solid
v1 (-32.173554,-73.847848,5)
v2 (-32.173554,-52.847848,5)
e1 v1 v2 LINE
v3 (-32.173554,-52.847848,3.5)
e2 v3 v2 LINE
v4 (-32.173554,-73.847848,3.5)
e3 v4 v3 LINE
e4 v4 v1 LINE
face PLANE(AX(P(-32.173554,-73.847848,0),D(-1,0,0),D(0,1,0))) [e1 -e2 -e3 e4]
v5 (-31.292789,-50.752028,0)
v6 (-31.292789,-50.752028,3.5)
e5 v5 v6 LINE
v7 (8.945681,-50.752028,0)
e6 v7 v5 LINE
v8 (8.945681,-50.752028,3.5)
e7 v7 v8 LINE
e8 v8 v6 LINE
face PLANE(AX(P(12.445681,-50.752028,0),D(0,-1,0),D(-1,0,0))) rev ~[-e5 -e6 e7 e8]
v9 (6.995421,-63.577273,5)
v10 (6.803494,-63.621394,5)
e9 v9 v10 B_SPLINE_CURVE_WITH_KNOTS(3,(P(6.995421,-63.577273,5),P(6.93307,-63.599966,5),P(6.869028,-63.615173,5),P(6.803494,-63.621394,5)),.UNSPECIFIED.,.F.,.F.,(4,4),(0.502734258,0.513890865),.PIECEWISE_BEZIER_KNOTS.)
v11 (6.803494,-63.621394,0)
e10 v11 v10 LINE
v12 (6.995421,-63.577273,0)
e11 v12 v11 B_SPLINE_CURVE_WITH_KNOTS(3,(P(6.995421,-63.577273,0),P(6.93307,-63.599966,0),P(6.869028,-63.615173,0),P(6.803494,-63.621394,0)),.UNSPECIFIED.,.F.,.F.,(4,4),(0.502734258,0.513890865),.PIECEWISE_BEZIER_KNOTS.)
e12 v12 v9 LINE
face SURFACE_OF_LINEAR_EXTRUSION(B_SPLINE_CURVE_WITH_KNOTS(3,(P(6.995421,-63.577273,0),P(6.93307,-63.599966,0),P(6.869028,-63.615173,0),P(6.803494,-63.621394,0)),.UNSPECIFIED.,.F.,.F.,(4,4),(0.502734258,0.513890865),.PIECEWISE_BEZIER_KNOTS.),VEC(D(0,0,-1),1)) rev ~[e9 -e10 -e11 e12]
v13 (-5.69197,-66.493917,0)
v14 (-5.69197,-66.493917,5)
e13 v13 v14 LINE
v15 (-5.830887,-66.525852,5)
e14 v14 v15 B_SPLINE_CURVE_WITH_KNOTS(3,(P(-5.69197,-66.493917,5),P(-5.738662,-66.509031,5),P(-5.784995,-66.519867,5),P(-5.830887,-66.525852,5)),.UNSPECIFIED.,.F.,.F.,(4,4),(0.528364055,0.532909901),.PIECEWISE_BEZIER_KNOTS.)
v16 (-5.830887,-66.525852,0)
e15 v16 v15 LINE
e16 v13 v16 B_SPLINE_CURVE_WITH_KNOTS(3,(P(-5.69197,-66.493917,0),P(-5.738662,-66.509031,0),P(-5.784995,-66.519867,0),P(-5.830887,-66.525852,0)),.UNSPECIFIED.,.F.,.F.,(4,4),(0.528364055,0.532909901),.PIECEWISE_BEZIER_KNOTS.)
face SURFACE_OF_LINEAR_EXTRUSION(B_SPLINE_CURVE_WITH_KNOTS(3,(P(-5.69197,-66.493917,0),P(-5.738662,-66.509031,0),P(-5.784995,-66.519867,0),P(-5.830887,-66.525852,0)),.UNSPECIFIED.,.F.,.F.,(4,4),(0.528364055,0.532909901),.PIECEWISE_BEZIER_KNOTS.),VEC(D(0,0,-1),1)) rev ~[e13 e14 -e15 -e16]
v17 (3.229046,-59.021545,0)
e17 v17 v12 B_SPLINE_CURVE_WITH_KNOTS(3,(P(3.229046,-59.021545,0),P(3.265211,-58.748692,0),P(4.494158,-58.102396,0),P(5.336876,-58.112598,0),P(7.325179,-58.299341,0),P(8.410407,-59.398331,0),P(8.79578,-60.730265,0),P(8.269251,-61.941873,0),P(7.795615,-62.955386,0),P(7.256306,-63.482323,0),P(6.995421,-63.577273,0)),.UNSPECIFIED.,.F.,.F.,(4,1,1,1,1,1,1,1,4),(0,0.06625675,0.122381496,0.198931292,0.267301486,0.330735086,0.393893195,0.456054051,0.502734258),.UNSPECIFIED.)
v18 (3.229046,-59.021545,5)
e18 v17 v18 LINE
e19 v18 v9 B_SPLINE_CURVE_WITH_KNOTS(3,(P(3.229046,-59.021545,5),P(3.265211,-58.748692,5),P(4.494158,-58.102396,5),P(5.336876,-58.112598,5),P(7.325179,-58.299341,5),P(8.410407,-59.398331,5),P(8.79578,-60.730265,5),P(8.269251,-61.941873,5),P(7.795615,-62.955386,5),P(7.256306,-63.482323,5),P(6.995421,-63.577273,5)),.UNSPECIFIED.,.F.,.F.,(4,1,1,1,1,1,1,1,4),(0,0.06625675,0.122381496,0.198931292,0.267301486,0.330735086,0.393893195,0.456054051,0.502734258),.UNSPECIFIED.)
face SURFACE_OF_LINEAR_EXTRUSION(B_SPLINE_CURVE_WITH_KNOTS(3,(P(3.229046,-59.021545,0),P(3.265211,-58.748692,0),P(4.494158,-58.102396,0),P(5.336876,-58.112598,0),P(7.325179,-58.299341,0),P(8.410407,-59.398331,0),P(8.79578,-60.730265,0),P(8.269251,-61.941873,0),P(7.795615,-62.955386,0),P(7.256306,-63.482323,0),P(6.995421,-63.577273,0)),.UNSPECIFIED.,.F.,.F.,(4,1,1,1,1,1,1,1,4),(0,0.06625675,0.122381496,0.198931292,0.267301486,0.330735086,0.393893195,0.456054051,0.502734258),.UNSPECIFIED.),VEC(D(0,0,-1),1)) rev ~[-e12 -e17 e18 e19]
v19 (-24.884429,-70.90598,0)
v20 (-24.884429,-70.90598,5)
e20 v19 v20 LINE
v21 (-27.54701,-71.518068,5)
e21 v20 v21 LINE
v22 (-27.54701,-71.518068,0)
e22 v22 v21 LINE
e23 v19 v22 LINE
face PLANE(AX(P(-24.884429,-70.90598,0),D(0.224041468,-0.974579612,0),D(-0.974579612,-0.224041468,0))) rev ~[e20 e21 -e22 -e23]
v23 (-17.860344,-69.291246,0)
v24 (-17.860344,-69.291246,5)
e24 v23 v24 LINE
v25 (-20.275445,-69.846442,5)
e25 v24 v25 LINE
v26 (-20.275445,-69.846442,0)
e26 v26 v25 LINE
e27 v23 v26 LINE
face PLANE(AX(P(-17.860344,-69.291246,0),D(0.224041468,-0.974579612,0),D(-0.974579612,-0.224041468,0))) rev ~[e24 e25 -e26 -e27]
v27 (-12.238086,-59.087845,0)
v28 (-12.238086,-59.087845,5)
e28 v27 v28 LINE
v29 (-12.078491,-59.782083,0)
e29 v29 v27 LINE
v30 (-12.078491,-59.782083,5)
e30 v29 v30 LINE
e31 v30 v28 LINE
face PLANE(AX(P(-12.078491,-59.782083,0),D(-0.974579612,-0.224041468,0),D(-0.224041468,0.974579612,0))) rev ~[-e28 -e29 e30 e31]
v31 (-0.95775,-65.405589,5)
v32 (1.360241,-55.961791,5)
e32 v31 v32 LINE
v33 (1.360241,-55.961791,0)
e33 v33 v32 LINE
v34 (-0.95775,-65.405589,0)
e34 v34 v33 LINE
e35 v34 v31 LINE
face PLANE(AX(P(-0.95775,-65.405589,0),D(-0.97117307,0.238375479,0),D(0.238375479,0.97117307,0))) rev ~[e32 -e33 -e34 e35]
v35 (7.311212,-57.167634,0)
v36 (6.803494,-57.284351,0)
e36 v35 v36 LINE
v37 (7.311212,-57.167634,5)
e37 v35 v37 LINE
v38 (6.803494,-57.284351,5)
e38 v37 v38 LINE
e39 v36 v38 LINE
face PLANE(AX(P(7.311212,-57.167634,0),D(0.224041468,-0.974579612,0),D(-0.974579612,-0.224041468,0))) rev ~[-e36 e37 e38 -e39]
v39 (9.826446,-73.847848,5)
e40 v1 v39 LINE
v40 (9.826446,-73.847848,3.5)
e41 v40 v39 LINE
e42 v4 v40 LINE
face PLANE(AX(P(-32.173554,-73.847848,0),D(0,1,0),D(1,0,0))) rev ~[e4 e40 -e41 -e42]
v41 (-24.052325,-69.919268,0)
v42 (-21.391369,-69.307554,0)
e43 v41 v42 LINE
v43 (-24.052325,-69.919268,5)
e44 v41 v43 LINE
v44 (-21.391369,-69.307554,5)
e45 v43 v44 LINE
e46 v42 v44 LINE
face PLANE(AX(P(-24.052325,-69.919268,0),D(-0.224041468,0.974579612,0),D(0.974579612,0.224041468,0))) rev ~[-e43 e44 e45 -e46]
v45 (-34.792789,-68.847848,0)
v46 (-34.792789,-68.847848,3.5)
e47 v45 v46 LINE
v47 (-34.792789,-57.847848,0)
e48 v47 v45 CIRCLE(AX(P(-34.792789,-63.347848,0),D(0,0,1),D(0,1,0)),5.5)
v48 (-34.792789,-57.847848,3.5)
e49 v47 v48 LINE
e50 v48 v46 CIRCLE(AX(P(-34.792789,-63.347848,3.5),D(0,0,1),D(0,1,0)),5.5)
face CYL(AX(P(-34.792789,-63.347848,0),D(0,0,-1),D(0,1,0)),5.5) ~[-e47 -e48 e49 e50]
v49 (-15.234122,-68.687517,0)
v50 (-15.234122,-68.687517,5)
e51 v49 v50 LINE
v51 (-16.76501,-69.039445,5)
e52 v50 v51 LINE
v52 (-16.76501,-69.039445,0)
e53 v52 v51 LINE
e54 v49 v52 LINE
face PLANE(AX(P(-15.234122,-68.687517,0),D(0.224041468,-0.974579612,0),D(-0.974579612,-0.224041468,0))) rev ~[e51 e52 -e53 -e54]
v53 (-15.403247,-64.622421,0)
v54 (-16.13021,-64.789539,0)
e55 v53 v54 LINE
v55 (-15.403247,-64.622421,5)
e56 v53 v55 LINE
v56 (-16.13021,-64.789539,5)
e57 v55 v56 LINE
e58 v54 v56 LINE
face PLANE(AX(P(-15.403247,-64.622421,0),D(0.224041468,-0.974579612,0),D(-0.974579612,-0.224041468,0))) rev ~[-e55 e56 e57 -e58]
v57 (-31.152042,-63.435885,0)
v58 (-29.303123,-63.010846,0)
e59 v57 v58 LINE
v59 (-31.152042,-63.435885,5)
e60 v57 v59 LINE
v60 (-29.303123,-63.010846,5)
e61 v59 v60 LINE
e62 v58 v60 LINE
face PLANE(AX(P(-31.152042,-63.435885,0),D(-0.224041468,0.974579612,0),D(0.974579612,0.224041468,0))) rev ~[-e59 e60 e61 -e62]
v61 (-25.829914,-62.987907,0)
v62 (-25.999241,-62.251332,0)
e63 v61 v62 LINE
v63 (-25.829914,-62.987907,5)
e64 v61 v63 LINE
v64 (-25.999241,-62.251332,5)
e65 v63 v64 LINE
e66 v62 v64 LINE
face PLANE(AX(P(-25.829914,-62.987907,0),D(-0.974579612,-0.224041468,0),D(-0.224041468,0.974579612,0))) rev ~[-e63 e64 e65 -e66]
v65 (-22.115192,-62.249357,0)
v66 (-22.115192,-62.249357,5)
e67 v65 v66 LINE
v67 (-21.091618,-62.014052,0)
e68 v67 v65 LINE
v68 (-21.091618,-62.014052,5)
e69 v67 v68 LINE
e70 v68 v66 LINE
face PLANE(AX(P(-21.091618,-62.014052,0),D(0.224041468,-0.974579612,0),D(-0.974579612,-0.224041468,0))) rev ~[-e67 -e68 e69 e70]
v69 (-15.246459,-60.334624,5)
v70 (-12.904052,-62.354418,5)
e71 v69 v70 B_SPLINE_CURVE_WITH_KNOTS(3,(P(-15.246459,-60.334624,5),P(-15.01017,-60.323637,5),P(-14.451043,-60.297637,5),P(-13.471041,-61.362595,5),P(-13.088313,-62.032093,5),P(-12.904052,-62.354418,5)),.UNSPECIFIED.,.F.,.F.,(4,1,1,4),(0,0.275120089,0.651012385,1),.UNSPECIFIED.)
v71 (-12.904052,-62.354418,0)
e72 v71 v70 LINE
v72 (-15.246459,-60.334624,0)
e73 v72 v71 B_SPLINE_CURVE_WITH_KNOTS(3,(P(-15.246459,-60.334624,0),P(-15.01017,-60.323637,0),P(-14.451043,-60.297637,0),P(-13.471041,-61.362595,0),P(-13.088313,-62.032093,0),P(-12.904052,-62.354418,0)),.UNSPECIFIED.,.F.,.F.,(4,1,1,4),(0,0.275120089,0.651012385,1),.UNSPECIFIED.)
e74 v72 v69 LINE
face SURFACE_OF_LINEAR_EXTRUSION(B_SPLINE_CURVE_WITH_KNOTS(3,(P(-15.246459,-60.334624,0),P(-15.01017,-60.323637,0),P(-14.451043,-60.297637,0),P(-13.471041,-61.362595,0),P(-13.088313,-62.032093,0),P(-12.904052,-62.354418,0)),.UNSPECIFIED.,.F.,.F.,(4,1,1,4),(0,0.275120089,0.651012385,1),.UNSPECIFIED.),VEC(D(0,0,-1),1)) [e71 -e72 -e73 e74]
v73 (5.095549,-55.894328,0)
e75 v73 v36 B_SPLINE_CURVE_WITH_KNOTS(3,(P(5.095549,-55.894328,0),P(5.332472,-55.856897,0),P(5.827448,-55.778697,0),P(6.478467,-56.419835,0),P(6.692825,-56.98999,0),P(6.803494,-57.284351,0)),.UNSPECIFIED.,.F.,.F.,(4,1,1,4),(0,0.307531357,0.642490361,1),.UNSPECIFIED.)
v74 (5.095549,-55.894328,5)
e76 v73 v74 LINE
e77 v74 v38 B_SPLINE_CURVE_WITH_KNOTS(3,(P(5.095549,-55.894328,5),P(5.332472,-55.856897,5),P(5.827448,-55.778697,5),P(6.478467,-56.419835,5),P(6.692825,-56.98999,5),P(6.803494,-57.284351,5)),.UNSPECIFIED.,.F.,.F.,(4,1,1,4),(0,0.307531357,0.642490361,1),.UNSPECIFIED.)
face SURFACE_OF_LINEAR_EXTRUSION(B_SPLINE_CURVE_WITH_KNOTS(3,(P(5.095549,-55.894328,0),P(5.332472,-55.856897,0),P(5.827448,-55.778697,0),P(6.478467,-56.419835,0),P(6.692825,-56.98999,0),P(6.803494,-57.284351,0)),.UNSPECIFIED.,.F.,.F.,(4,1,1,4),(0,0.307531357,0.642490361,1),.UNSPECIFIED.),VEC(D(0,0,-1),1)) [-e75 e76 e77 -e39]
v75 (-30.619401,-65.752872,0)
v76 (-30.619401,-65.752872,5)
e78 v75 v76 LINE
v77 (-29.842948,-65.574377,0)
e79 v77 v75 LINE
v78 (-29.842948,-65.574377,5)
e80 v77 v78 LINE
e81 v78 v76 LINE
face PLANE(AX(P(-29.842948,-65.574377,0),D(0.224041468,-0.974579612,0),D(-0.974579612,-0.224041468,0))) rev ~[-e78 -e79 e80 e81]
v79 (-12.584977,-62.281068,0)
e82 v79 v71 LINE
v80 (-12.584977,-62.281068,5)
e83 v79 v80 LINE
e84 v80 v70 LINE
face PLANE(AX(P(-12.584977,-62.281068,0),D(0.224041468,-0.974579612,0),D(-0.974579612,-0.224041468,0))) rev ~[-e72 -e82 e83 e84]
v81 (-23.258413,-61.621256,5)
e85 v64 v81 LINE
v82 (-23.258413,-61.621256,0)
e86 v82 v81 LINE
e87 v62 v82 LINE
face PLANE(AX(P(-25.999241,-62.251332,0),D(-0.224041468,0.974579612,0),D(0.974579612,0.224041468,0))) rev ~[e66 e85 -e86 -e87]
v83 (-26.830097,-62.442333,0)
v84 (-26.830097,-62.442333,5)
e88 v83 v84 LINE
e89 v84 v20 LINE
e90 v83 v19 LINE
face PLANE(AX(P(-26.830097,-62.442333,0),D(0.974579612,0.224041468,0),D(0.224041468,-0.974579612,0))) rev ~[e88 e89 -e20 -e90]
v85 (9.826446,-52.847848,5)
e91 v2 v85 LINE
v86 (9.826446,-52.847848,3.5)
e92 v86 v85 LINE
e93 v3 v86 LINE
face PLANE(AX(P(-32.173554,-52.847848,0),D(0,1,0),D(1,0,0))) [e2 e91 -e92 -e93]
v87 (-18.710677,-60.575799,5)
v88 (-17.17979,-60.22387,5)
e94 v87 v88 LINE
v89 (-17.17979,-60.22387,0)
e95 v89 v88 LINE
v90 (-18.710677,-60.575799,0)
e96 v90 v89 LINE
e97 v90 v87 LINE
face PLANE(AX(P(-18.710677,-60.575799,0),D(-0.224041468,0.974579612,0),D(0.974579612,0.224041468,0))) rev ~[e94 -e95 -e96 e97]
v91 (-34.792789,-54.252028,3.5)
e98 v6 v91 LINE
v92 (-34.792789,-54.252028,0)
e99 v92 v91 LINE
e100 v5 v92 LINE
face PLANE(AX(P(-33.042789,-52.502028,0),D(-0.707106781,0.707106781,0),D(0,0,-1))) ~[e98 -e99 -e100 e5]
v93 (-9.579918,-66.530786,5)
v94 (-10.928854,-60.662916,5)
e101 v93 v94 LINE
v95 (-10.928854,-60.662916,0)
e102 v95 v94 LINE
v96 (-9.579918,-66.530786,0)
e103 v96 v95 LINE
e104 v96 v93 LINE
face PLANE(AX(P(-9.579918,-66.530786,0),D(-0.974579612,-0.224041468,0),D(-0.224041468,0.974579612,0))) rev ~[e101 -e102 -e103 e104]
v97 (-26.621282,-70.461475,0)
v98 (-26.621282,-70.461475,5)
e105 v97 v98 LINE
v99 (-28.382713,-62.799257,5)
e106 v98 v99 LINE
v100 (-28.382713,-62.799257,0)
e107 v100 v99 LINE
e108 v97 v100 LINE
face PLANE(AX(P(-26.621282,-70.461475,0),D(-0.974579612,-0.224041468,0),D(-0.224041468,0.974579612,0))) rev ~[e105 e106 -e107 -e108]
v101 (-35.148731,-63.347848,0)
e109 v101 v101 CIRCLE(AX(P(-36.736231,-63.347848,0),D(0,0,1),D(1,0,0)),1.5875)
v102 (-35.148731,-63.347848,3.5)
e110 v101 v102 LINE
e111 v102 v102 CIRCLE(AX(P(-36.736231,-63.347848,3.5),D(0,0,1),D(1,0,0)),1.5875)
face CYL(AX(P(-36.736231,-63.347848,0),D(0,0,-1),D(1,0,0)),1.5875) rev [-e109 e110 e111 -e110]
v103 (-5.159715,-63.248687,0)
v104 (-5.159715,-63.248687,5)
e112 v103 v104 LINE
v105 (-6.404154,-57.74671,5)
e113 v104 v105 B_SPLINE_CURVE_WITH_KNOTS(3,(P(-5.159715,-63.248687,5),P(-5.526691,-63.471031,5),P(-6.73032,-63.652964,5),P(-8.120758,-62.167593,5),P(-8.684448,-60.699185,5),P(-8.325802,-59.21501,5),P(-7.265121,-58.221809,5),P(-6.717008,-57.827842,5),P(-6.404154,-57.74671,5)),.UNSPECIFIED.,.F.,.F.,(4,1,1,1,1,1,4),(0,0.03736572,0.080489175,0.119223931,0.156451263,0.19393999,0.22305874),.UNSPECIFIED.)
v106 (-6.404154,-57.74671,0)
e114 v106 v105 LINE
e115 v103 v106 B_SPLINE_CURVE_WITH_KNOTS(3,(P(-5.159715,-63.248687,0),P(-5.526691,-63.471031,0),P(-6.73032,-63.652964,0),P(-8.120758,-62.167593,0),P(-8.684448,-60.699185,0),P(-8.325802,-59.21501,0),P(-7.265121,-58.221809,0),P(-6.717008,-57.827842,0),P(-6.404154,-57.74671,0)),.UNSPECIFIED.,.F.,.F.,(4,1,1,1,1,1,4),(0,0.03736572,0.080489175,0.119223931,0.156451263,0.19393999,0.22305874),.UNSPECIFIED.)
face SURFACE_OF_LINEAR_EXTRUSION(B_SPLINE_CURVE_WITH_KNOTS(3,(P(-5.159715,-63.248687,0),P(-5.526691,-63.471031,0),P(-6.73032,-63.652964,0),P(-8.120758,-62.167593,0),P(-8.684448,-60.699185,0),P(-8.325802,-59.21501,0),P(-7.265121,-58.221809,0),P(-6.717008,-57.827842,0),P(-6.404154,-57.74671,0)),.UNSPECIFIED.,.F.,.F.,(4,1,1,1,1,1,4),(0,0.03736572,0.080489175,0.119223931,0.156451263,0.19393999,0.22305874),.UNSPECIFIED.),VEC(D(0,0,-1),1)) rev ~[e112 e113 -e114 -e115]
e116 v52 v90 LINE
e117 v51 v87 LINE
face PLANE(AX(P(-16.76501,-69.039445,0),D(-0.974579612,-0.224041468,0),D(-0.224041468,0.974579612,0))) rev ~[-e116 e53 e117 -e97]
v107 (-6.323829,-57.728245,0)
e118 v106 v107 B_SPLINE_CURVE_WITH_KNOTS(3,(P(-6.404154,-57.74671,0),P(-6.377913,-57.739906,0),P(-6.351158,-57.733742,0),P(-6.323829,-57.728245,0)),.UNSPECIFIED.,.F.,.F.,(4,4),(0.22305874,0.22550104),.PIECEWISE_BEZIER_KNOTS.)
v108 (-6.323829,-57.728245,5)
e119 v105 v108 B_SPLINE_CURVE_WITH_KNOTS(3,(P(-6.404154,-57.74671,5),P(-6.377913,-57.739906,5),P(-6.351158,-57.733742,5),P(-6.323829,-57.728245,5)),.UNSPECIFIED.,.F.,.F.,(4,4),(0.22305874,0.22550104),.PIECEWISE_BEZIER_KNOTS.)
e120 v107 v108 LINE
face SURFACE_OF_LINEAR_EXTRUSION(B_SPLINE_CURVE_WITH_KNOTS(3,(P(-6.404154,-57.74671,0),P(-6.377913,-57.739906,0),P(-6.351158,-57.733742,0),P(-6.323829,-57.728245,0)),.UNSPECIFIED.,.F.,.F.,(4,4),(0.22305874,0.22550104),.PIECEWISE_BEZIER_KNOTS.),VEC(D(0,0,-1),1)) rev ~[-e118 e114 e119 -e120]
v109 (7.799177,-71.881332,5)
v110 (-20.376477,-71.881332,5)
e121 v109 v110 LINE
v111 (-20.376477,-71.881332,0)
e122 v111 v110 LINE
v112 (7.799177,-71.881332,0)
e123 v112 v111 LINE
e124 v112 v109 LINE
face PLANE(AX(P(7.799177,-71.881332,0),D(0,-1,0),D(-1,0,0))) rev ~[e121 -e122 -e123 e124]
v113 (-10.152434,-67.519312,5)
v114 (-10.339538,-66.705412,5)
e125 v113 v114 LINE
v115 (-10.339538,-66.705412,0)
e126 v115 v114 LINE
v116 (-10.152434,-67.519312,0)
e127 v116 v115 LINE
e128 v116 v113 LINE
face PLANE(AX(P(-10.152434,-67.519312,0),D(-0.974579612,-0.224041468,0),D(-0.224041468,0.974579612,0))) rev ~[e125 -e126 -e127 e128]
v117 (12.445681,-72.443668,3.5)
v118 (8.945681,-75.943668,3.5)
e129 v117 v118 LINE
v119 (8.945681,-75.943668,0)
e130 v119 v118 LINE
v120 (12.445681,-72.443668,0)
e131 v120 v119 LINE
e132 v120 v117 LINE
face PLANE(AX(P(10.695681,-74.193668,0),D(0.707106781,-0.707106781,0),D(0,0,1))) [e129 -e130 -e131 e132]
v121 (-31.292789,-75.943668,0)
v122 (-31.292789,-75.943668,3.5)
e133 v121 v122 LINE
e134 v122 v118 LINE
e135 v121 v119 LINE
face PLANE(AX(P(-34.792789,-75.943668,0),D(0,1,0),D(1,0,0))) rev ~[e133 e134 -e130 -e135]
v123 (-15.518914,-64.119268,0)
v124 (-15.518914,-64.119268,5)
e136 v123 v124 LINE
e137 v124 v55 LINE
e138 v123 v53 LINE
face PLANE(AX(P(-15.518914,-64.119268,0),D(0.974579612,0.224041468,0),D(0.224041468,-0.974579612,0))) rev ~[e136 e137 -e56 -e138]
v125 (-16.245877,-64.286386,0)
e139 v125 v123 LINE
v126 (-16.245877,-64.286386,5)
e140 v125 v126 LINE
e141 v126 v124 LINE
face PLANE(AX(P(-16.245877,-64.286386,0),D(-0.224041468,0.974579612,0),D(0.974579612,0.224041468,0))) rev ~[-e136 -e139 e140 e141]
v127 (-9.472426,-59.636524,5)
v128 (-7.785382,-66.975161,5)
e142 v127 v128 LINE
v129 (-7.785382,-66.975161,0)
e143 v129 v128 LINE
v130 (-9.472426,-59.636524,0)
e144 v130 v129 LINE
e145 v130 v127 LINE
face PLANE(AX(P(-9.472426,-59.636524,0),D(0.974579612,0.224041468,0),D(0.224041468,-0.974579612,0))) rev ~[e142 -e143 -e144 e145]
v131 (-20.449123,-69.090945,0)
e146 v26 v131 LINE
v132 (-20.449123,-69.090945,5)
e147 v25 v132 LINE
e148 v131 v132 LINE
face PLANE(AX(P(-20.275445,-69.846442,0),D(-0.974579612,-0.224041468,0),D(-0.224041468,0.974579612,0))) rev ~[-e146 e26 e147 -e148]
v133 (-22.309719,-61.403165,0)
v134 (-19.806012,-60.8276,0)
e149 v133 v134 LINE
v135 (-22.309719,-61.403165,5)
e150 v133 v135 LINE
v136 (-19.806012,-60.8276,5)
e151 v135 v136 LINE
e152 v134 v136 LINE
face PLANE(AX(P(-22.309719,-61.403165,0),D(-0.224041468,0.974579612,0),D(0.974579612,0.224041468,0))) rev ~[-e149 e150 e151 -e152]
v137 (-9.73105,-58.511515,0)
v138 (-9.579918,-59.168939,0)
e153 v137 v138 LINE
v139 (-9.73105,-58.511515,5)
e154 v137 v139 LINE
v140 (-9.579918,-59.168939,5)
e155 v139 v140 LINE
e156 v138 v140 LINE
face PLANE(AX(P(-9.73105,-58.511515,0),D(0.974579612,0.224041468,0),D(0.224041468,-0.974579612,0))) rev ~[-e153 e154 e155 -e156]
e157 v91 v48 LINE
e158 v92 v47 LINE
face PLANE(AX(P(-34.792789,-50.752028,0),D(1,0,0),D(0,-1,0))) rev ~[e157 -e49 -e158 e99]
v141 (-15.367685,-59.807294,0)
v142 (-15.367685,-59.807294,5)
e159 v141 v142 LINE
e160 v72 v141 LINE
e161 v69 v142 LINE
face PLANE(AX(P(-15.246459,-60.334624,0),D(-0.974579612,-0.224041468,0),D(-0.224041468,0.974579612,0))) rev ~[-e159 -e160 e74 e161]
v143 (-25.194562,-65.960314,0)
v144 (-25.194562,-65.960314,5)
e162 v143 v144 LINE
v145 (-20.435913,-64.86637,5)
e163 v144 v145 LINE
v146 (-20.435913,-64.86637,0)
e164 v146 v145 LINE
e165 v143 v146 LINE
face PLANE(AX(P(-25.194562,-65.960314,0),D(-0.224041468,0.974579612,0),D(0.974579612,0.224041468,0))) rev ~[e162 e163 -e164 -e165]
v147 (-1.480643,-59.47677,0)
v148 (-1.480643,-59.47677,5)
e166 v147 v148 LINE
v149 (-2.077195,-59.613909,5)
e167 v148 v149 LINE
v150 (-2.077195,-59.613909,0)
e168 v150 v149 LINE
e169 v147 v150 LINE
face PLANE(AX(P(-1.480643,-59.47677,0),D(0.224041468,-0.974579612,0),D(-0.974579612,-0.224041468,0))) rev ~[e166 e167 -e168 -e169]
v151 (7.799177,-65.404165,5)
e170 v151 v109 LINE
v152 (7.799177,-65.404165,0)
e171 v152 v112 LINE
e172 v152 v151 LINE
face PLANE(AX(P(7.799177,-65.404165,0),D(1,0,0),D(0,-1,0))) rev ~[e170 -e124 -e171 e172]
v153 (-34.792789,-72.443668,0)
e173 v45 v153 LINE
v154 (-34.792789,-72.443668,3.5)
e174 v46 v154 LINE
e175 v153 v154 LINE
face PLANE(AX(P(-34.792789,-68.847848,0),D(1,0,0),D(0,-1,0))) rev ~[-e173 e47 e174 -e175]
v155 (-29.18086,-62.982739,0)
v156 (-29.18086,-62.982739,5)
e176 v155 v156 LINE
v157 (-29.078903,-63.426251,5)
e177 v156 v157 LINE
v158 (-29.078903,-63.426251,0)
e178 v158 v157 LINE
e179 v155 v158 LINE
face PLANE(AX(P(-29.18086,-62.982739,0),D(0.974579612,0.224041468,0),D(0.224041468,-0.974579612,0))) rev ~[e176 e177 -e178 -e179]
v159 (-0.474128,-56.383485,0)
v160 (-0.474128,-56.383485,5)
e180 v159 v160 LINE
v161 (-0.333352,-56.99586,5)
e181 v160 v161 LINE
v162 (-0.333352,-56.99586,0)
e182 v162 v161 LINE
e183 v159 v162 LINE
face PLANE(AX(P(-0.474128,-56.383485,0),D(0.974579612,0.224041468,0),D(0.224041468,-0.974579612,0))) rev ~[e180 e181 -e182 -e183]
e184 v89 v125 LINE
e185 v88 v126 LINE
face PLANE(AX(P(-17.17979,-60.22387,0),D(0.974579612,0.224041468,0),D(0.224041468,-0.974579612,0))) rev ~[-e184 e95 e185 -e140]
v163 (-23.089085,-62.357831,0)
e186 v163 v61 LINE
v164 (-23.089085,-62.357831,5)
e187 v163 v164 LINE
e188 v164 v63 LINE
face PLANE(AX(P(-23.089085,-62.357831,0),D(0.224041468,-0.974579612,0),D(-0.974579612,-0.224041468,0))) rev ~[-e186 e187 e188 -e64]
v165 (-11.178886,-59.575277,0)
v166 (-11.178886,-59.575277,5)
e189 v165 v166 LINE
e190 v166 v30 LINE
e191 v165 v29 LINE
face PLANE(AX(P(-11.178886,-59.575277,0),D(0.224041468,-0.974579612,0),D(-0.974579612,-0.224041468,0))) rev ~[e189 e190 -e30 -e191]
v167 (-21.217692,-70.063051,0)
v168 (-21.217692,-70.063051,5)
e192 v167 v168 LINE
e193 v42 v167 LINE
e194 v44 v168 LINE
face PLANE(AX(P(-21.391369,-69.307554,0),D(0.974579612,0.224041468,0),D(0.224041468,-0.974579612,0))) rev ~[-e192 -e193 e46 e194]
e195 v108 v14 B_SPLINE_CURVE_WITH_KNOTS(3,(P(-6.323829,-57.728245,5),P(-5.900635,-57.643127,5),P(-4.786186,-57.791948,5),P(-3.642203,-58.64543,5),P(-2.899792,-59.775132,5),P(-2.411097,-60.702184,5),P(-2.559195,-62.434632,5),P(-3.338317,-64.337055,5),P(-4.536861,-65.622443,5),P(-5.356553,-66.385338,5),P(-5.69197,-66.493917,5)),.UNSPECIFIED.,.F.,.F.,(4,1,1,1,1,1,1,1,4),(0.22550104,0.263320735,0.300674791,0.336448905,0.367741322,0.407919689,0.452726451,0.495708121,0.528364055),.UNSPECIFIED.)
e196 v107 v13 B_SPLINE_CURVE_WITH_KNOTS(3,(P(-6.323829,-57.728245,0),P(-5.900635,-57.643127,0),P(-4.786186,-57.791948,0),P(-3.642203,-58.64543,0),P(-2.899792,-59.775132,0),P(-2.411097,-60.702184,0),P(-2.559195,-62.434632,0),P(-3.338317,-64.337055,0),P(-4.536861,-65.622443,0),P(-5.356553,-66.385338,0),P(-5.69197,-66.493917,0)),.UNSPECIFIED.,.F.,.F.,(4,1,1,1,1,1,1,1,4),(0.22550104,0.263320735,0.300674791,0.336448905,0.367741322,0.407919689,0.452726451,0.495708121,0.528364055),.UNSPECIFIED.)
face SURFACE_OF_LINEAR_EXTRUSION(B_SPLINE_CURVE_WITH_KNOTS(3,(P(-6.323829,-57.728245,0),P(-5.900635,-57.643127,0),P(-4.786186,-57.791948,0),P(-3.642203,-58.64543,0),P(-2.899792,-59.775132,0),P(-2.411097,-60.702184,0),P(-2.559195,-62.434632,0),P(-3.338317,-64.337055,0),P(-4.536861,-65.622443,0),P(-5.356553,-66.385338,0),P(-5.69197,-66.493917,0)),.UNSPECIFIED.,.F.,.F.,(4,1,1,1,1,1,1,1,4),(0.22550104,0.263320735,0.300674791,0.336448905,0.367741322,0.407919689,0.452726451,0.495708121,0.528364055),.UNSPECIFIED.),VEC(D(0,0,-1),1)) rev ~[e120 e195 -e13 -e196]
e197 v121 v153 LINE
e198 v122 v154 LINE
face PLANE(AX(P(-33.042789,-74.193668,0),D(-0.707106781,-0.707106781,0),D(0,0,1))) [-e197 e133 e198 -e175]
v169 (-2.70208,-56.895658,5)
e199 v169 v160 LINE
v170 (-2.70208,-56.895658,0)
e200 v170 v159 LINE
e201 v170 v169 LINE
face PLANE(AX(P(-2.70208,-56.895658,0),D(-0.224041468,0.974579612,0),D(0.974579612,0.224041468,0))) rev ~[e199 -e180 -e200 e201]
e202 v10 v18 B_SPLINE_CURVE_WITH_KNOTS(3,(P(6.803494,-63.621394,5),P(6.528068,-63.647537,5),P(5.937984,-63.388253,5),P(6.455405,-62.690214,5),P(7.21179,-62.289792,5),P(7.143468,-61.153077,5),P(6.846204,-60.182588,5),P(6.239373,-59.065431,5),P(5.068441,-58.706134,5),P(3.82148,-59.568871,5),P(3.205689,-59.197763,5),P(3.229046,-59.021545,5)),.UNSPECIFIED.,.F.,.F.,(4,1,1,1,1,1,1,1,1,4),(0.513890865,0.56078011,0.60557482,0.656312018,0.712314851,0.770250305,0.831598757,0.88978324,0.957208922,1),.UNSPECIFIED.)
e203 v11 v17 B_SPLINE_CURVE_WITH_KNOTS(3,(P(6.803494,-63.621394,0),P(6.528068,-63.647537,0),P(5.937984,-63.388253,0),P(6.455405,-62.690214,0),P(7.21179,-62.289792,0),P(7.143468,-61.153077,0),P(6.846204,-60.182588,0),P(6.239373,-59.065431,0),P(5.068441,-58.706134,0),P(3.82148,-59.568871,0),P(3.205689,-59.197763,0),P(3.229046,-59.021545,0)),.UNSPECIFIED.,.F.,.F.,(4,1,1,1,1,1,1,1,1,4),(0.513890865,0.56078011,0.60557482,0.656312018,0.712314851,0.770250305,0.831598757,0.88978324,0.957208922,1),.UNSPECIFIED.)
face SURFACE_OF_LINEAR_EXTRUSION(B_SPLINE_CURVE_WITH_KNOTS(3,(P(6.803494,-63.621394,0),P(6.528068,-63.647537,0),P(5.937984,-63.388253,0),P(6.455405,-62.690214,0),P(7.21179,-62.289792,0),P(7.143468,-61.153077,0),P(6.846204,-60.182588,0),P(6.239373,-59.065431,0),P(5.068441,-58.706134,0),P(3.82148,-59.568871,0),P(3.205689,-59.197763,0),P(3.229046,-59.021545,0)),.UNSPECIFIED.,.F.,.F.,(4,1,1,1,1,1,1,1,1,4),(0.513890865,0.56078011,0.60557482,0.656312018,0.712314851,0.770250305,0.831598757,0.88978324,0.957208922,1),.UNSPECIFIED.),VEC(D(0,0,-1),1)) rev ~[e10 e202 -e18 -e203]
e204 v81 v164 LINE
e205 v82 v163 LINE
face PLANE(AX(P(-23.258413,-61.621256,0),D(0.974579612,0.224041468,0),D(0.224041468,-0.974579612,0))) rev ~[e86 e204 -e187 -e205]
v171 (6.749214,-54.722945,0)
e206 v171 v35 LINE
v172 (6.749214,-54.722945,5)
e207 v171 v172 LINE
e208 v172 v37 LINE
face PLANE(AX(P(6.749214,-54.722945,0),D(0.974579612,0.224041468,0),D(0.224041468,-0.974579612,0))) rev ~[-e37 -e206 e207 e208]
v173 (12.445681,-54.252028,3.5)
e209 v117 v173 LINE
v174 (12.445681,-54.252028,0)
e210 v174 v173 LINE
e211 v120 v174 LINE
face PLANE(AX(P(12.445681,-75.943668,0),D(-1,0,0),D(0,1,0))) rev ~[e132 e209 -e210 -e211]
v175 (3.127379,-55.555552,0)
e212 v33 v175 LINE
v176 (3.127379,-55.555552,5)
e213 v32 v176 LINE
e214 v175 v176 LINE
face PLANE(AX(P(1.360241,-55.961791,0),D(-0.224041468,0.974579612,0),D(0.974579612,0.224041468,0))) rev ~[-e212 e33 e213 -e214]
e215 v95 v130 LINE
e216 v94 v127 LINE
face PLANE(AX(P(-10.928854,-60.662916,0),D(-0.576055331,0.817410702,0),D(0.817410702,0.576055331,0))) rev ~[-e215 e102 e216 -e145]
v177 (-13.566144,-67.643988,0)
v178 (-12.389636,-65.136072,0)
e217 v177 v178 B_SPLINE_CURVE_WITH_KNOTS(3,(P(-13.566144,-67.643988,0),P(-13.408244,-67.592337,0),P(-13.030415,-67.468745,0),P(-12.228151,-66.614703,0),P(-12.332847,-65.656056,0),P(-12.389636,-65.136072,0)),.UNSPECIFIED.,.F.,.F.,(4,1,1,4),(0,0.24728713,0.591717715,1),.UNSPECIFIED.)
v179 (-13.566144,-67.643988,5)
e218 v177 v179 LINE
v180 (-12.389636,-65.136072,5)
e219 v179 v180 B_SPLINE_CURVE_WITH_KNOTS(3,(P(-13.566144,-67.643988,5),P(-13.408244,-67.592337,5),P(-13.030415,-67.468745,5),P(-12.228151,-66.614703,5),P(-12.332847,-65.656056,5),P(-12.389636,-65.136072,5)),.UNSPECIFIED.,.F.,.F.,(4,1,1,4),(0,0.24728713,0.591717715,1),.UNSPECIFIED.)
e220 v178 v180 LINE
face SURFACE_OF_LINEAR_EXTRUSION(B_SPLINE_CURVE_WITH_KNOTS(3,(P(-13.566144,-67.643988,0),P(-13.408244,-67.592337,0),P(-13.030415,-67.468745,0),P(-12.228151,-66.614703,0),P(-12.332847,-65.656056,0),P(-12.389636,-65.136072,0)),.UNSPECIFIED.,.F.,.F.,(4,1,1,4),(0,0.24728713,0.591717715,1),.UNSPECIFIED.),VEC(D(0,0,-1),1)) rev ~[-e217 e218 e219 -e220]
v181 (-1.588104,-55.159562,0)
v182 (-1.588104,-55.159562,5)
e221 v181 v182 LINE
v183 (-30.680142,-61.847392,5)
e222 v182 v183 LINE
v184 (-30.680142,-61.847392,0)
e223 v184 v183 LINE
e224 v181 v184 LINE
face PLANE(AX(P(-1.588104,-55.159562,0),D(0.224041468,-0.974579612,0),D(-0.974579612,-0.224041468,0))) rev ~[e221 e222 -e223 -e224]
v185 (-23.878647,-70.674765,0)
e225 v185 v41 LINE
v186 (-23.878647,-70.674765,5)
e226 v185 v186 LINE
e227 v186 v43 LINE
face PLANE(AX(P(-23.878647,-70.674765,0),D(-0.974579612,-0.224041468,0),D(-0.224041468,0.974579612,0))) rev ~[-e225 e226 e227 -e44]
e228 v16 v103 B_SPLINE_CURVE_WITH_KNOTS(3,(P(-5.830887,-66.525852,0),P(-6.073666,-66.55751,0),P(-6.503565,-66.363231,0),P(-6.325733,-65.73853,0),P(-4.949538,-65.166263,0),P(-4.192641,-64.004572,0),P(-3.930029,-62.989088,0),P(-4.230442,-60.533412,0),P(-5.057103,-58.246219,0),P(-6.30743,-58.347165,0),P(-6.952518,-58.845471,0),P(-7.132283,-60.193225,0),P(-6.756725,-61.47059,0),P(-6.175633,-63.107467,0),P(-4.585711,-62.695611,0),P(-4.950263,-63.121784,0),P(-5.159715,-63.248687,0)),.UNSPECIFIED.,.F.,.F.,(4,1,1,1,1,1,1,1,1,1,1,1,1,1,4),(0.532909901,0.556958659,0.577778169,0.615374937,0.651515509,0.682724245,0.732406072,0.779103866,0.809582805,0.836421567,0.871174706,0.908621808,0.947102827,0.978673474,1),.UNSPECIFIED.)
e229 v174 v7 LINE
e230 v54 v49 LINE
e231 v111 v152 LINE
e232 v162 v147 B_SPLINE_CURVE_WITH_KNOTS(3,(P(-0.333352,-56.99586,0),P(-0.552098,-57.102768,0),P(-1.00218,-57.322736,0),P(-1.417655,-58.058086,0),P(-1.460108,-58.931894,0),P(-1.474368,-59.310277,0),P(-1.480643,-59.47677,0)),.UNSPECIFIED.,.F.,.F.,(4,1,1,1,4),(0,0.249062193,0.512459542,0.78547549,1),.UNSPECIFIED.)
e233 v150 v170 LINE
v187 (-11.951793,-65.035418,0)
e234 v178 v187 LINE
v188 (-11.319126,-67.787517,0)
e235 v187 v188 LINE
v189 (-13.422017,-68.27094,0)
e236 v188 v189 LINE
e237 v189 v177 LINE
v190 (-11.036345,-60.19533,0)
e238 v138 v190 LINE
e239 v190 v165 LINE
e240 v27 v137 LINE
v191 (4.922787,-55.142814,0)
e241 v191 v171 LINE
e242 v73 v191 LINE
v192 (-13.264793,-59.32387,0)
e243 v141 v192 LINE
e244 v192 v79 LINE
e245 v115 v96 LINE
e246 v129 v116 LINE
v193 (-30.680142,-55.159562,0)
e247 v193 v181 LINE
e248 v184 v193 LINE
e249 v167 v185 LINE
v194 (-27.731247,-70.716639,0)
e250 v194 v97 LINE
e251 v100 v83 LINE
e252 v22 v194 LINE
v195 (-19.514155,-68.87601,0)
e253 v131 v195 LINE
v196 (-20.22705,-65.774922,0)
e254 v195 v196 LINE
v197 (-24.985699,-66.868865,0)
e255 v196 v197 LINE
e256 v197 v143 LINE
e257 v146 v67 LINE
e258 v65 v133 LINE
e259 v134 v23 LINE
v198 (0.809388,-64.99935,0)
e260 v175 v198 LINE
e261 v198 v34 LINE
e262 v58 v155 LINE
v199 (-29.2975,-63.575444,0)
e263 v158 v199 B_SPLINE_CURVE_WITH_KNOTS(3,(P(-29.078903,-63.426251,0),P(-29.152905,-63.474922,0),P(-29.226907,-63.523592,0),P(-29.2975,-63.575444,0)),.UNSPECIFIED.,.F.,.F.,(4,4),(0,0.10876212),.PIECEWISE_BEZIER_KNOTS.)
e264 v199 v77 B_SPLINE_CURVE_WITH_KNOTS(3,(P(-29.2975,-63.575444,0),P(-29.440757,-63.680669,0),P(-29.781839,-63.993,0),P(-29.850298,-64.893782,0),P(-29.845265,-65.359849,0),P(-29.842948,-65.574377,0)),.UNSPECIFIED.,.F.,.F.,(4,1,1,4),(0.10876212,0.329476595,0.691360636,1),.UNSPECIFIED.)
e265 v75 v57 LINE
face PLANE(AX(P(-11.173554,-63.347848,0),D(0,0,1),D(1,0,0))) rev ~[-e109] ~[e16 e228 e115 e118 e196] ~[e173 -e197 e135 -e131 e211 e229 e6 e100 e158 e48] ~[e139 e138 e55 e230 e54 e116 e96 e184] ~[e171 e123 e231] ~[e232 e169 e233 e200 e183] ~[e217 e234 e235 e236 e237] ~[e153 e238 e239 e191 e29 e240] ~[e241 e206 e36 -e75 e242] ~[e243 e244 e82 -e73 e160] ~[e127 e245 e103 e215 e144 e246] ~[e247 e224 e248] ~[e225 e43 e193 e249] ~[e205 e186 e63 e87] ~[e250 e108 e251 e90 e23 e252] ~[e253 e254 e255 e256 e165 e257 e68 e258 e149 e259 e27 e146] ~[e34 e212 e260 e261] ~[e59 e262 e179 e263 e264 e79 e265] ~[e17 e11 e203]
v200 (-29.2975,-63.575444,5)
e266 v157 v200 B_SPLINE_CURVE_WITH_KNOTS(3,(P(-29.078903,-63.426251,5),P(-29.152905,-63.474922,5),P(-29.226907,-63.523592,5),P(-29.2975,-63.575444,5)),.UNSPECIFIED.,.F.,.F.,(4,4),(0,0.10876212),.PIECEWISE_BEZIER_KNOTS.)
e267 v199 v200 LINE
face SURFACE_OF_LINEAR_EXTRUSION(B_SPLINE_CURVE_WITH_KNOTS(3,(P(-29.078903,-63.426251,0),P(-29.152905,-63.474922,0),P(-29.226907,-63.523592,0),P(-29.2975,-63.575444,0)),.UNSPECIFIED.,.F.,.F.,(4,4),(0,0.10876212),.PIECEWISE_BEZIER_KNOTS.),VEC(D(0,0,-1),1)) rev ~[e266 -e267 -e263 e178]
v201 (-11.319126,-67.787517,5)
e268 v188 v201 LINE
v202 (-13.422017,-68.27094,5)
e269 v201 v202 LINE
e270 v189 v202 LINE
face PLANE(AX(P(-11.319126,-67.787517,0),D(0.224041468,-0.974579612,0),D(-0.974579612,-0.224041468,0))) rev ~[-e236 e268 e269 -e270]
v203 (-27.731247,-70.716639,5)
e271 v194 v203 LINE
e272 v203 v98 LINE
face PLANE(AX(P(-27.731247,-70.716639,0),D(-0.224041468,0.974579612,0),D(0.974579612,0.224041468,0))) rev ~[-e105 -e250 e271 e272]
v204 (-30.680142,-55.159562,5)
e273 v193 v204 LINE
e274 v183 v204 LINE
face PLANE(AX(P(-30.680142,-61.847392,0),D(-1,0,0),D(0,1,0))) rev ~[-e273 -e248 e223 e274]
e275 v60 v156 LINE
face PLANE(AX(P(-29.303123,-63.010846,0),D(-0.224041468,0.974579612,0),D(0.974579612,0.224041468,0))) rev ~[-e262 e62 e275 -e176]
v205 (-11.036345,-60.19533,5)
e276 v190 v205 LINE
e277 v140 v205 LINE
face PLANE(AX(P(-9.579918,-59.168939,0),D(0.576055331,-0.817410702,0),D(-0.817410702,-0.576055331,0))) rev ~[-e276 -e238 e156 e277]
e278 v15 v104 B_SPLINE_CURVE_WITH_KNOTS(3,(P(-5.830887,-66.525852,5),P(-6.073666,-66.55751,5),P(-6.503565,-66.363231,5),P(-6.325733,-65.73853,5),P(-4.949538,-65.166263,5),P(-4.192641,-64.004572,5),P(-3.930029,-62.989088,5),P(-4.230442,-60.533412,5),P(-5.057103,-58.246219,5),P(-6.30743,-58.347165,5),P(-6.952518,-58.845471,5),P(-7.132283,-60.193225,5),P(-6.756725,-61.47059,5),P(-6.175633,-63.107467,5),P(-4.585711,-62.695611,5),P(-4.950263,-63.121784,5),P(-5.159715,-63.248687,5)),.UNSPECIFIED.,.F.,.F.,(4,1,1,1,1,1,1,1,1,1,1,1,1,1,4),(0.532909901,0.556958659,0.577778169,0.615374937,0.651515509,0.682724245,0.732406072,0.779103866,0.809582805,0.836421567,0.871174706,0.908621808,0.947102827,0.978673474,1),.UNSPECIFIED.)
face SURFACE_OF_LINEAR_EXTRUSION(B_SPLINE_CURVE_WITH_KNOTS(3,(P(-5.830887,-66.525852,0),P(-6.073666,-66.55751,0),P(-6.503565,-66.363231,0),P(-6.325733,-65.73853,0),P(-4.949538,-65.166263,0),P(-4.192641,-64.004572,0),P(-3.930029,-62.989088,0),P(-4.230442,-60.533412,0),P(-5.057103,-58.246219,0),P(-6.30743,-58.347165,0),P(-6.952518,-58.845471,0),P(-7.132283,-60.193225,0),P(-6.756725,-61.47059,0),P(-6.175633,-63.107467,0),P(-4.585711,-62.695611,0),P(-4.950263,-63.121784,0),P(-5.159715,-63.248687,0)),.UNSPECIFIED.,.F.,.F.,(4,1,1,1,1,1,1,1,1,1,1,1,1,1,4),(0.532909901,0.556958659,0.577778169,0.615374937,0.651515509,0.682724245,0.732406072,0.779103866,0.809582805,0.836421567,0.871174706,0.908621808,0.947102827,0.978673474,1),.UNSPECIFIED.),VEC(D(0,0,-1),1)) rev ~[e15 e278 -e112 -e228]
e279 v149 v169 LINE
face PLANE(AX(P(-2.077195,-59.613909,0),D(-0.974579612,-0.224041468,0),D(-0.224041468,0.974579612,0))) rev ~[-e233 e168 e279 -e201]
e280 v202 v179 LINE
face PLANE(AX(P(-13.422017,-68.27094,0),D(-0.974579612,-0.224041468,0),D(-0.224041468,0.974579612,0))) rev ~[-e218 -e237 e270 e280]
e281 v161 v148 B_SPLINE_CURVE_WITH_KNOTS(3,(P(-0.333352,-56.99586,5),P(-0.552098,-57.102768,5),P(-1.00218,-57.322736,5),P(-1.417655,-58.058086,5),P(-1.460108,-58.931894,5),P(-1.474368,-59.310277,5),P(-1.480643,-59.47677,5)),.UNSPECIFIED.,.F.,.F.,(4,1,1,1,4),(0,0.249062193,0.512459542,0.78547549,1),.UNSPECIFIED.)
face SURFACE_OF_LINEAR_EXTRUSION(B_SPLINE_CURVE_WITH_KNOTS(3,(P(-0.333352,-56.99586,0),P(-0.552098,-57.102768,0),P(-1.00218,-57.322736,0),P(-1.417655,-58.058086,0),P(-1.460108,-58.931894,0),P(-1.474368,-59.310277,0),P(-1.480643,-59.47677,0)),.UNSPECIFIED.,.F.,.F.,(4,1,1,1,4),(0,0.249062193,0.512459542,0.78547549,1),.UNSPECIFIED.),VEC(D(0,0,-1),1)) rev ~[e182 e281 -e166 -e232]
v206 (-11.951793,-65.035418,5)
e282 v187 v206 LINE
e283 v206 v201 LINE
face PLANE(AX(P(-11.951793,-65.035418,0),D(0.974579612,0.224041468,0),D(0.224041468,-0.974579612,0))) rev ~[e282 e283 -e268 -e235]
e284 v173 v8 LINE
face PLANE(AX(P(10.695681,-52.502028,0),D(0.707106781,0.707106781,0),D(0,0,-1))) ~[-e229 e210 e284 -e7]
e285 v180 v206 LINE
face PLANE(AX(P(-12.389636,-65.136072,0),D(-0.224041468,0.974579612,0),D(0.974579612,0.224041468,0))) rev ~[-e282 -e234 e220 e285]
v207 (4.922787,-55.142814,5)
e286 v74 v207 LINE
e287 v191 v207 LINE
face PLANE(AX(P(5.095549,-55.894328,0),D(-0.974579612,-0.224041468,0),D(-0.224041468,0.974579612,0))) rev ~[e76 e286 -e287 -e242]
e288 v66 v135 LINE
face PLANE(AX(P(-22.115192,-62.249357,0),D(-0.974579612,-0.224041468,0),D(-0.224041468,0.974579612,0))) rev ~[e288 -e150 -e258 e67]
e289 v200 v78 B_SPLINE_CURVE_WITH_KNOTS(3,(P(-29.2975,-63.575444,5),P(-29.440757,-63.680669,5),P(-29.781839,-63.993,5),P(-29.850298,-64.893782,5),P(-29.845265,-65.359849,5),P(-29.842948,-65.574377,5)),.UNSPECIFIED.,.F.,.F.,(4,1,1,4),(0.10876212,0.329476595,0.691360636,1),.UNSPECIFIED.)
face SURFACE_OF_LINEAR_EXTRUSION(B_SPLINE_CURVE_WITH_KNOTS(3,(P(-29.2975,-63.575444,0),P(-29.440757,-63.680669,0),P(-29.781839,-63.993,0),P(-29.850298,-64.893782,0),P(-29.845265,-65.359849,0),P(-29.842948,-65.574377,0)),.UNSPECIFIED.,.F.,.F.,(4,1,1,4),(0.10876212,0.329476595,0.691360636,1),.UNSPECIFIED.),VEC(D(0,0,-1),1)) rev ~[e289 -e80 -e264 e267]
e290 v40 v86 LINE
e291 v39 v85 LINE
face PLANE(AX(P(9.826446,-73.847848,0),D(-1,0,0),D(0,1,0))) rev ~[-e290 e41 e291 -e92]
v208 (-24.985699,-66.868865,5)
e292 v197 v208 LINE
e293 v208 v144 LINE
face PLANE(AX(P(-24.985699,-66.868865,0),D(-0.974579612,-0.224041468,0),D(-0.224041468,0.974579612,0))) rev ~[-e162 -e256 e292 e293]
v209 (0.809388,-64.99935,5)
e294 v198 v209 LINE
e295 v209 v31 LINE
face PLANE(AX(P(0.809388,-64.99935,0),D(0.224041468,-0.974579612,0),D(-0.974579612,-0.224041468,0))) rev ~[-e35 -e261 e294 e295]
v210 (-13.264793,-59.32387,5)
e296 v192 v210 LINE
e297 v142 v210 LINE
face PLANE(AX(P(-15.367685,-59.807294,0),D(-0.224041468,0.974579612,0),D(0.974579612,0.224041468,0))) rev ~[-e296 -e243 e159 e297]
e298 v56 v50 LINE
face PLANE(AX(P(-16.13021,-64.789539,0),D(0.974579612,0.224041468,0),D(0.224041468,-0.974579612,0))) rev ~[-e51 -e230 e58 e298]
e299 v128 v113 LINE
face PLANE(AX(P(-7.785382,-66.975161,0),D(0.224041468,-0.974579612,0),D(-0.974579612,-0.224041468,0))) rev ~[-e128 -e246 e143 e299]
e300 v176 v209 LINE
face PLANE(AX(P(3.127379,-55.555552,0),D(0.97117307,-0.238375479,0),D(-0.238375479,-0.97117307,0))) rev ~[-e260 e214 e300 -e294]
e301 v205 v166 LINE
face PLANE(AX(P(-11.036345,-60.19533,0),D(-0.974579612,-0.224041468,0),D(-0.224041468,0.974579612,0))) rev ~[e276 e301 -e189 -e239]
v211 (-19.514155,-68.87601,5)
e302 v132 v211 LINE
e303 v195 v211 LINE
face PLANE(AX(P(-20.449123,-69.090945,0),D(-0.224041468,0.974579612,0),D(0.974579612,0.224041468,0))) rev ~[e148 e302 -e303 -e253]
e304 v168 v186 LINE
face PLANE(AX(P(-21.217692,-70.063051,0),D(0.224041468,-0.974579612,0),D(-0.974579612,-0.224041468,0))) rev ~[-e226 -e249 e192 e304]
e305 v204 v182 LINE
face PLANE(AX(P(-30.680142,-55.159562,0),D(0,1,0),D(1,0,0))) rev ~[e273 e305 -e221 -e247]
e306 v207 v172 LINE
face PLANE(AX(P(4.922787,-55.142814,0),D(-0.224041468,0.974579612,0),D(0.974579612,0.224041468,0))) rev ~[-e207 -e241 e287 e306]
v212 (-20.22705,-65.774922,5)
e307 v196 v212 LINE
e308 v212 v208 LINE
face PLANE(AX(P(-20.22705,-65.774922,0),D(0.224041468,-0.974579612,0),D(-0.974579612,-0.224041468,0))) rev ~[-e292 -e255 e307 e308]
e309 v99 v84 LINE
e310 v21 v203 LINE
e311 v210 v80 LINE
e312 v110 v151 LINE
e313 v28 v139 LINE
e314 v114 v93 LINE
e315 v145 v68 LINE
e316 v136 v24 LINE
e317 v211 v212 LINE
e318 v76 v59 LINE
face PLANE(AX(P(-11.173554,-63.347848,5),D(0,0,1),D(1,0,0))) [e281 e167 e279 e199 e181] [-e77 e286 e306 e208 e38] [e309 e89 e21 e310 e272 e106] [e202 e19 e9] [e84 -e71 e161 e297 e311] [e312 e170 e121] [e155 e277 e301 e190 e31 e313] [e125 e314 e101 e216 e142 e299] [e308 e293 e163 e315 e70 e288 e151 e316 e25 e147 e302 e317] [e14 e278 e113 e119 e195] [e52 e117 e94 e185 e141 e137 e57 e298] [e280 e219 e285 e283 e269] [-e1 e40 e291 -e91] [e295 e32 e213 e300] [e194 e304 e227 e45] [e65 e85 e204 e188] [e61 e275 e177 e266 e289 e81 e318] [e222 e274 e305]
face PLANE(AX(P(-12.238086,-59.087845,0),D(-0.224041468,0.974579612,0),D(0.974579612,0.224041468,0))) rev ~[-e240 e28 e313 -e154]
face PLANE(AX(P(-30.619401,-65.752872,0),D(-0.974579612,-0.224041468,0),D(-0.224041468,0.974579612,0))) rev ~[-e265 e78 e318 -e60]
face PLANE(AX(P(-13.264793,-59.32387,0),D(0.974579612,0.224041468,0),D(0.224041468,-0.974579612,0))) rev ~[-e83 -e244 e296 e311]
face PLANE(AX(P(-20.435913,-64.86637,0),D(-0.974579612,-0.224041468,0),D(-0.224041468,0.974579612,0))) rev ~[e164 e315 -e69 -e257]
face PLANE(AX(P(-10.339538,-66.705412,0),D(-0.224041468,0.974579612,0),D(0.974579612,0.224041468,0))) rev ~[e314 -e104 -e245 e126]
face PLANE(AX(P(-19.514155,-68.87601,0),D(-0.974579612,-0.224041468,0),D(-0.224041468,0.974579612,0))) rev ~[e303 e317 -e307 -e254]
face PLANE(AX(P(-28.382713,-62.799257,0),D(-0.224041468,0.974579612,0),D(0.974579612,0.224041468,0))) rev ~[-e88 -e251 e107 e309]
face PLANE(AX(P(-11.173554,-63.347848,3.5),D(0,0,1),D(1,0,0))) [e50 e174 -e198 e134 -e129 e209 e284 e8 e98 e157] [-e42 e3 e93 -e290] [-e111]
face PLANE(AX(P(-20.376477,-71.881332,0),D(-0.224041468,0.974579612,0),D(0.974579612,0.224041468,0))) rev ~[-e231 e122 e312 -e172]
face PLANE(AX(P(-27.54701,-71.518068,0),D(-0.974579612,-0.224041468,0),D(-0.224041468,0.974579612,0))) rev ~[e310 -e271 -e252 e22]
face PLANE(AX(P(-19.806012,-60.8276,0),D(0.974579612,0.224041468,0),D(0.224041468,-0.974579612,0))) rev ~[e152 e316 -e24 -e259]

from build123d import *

# Parameters (mm, degrees)
F0_W     = 42
F0_H     = 21.0000003841
F0_R     = 1.5875
F1_DEPTH = 3.5
F2_DEPTH = 5
F3_SIZE  = 3.5


with BuildPart() as f1:
    # F0 (on Top) → F1 (new body)
    with BuildSketch(Plane.XY):
        Polygon((12.4456806419, -75.9436683108), (12.4456806419, -50.7520279537), (-34.7927891028, -50.7520279537), (-34.7927891028, -57.8478481323), (-34.7927891028, -68.8478481323), (-34.7927891028, -75.9436683108), align=None)
        with Locations((-11.1735542305, -63.3478481323)):
            Rectangle(F0_W, F0_H, mode=Mode.SUBTRACT)
        with BuildLine():
            Line((-34.7927891028, -68.8478481323), (-34.7927891028, -57.8478481323))
            ThreePointArc((-34.7927891028, -57.8478481323), (-40.2927891028, -63.3478481323), (-34.7927891028, -68.8478481323))
        make_face()
        with Locations((-36.7362312973, -63.3478481323)):
            Circle(F0_R, mode=Mode.SUBTRACT)
    extrude(amount=F1_DEPTH)

    # F0 (on Top) → F2 (join)
    with BuildSketch(Plane.XY):
        with Locations((-11.1735542305, -63.3478481323)):
            Rectangle(F0_W, F0_H)
        Polygon((-23.8786471596, -70.6747652911), (-24.0523247694, -69.9192682884), (-21.3913693228, -69.3075539071), (-21.2176917131, -70.0630509098), align=None, mode=Mode.SUBTRACT)
        with BuildLine():
            Line((-29.3031234232, -63.0108455718), (-29.1808595508, -62.9827389122))
            Line((-29.1808595508, -62.9827389122), (-29.0789026677, -63.4262510018))
            add(Edge.make_bspline(
                [(-29.0789026677, -63.4262510018), (-29.1529049011, -63.4749217309), (-29.2269071345, -63.52359246), (-29.2975002121, -63.575444281)],
                knots=[0, 0, 0, 0, 0.1087621201, 0.1087621201, 0.1087621201, 0.1087621201], degree=3))
            add(Edge.make_bspline(
                [(-29.2975002121, -63.575444281), (-29.4407570194, -63.6806688523), (-29.7818392383, -63.9929995997), (-29.8502979242, -64.8937824329), (-29.8452648282, -65.359848626), (-29.8429481134, -65.5743771161)],
                knots=[0.1087621201, 0.1087621201, 0.1087621201, 0.1087621201, 0.3294765954, 0.6913606358, 1, 1, 1, 1], degree=3))
            Line((-29.8429481134, -65.5743771161), (-30.6194010064, -65.7528721757))
            Line((-30.6194010064, -65.7528721757), (-31.152042225, -63.4358847142))
            Line((-31.152042225, -63.4358847142), (-29.3031234232, -63.0108455718))
        make_face(mode=Mode.SUBTRACT)
        Polygon((-26.6212822649, -70.461475033), (-28.3827131346, -62.7992568318), (-26.8300967187, -62.4423332344), (-24.8844293061, -70.9059797612), (-27.5470101393, -71.5180677949), (-27.7312466822, -70.7166394694), align=None, mode=Mode.SUBTRACT)
        Polygon((-22.1151918466, -62.2493569006), (-22.3097188553, -61.4031650847), (-19.8060117193, -60.827599769), (-17.8603443067, -69.2912462957), (-20.2754453234, -69.8464423724), (-20.4491229331, -69.0909453697), (-19.5141554776, -68.8760101519), (-20.2270498603, -65.7749220486), (-24.9856994855, -66.8688653595), (-25.1945621474, -65.9603135014), (-20.4359125222, -64.8663701905), (-21.0916182718, -62.0140524438), align=None, mode=Mode.SUBTRACT)
        Polygon((-16.7650099683, -69.0394450985), (-18.7106773809, -60.5757985718), (-17.1797895752, -60.2238700612), (-16.2458771635, -64.2863858277), (-15.5189143766, -64.119267813), (-15.4032469918, -64.6224205375), (-16.1302097787, -64.7895385522), (-15.2341221626, -68.687516588), align=None, mode=Mode.SUBTRACT)
        with BuildLine():
            Line((-13.4220172148, -68.2709404072), (-13.566144424, -67.6439875448))
            add(Edge.make_bspline(
                [(-13.566144424, -67.6439875448), (-13.4082443855, -67.5923367128), (-13.0304153818, -67.4687447074), (-12.2281508661, -66.6147026372), (-12.3328471311, -65.6560556519), (-12.3896358907, -65.1360717416)],
                knots=[0, 0, 0, 0, 0.24728713, 0.5917177152, 1, 1, 1, 1], degree=3))
            Line((-12.3896358907, -65.1360717416), (-11.9517928264, -65.0354180837))
            Line((-11.9517928264, -65.0354180837), (-11.3191259647, -67.7875167476))
            Line((-11.3191259647, -67.7875167476), (-13.4220172148, -68.2709404072))
        make_face(mode=Mode.SUBTRACT)
        Polygon((7.7991766311, -71.8813315034), (-20.3764773905, -71.8813315034), (7.7991766311, -65.404164518), align=None, mode=Mode.SUBTRACT)
        Polygon((-9.579917565, -66.5307860809), (-10.9288543825, -60.6629155825), (-9.4724264598, -59.6365244838), (-7.7853821944, -66.9751612131), (-10.1524341928, -67.5193115297), (-10.3395377834, -66.705411557), align=None, mode=Mode.SUBTRACT)
        Polygon((-25.8299135415, -62.9879073799), (-25.9992413825, -62.2513318561), (-23.2584126937, -61.6212557954), (-23.0890848527, -62.3578313192), align=None, mode=Mode.SUBTRACT)
        with BuildLine():
            Line((-15.3676846274, -59.8072938805), (-13.2647933773, -59.3238702209))
            Line((-13.2647933773, -59.3238702209), (-12.5849773482, -62.2810676002))
            Line((-12.5849773482, -62.2810676002), (-12.904051505, -62.3544180393))
            add(Edge.make_bspline(
                [(-15.2464591208, -60.3346244154), (-15.0101701985, -60.3236367336), (-14.4510433987, -60.2976367532), (-13.4710405423, -61.3625947324), (-13.0883127356, -62.0320933187), (-12.904051505, -62.3544180393)],
                knots=[0, 0, 0, 0, 0.2751200889, 0.6510123851, 1, 1, 1, 1], degree=3))
            Line((-15.2464591208, -60.3346244154), (-15.3676846274, -59.8072938805))
        make_face(mode=Mode.SUBTRACT)
        Polygon((-1.5881039416, -55.1595622412), (-30.680142343, -61.8473924696), (-30.680142343, -55.1595622412), align=None, mode=Mode.SUBTRACT)
        with BuildLine():
            add(Edge.make_bspline(
                [(-5.830886671, -66.5258515407), (-6.0736663814, -66.5575096275), (-6.5035654037, -66.3632312442), (-6.3257334719, -65.7385304616), (-4.9495379297, -65.1662633845), (-4.192641078, -64.0045721001), (-3.9300292571, -62.9890881807), (-4.2304422475, -60.5334124707), (-5.0571027333, -58.2462191907), (-6.307430195, -58.3471648479), (-6.9525176427, -58.8454709415), (-7.1322829636, -60.1932249465), (-6.7567254739, -61.4705901458), (-6.175632936, -63.107467012), (-4.5857114877, -62.6956114954), (-4.950262939, -63.1217841178), (-5.159715116, -63.2486870885)],
                knots=[0.5329099011, 0.5329099011, 0.5329099011, 0.5329099011, 0.556958659, 0.577778169, 0.615374937, 0.651515509, 0.6827242452, 0.7324060718, 0.7791038665, 0.8095828049, 0.8364215675, 0.8711747056, 0.9086218082, 0.9471028269, 0.9786734736, 1, 1, 1, 1], degree=3))
            add(Edge.make_bspline(
                [(-5.159715116, -63.2486870885), (-5.526691497, -63.4710308882), (-6.7303203701, -63.6529638599), (-8.1207575277, -62.1675926968), (-8.684448327, -60.6991851811), (-8.3258020191, -59.2150100073), (-7.2651210642, -58.2218085369), (-6.717008012, -57.8278416783), (-6.4041536497, -57.7467104109)],
                knots=[0, 0, 0, 0, 0.0373657204, 0.0804891749, 0.1192239311, 0.1564512634, 0.1939399901, 0.2230587403, 0.2230587403, 0.2230587403, 0.2230587403], degree=3))
            add(Edge.make_bspline(
                [(-6.4041536497, -57.7467104109), (-6.3779133736, -57.7399056254), (-6.3511578955, -57.7337417038), (-6.3238290857, -57.7282449793)],
                knots=[0.2230587403, 0.2230587403, 0.2230587403, 0.2230587403, 0.2255010398, 0.2255010398, 0.2255010398, 0.2255010398], degree=3))
            add(Edge.make_bspline(
                [(-6.3238290857, -57.7282449793), (-5.9006347692, -57.6431266514), (-4.7861863093, -57.7919477631), (-3.6422025528, -58.6454302727), (-2.8997918168, -59.7751315334), (-2.4110970663, -60.7021838077), (-2.5591947017, -62.4346323182), (-3.3383172922, -64.3370552032), (-4.536860668, -65.6224426324), (-5.3565533892, -66.3853381486), (-5.6919701344, -66.4939166794)],
                knots=[0.2255010398, 0.2255010398, 0.2255010398, 0.2255010398, 0.2633207349, 0.3006747911, 0.3364489049, 0.3677413222, 0.4079196888, 0.4527264513, 0.495708121, 0.5283640554, 0.5283640554, 0.5283640554, 0.5283640554], degree=3))
            add(Edge.make_bspline(
                [(-5.6919701344, -66.4939166794), (-5.7386615797, -66.5090312752), (-5.7849949407, -66.5198673324), (-5.830886671, -66.5258515407)],
                knots=[0.5283640554, 0.5283640554, 0.5283640554, 0.5283640554, 0.5329099011, 0.5329099011, 0.5329099011, 0.5329099011], degree=3))
        make_face(mode=Mode.SUBTRACT)
        Polygon((-12.0784910941, -59.7820829622), (-12.2380860706, -59.0878453653), (-9.731049607, -58.5115146864), (-9.579917565, -59.1689385474), (-11.0363454877, -60.195329646), (-11.1788864106, -59.5752771236), align=None, mode=Mode.SUBTRACT)
        with BuildLine():
            Line((-2.0771945366, -59.6139086394), (-2.702080155, -56.8956583573))
            Line((-2.702080155, -56.8956583573), (-0.4741277282, -56.3834849791))
            Line((-0.4741277282, -56.3834849791), (-0.3333516751, -56.9958603238))
            add(Edge.make_bspline(
                [(-0.3333516751, -56.9958603238), (-0.5520976853, -57.1027678098), (-1.0021799676, -57.3227360061), (-1.4176553986, -58.0580857336), (-1.4601082294, -58.9318940099), (-1.4743682047, -59.310276636), (-1.48064279, -59.476770198)],
                knots=[0, 0, 0, 0, 0.2490621927, 0.5124595417, 0.7854754899, 1, 1, 1, 1], degree=3))
            Line((-1.48064279, -59.476770198), (-2.0771945366, -59.6139086394))
        make_face(mode=Mode.SUBTRACT)
        Polygon((-0.9577497014, -65.4055892792), (1.3602408535, -55.9617907175), (3.1273785337, -55.5555518479), (0.8093879788, -64.9993504096), align=None, mode=Mode.SUBTRACT)
        with BuildLine():
            add(Edge.make_bspline(
                [(6.9954212547, -63.5772726656), (6.9330695696, -63.5999657692), (6.8690280112, -63.6151733968), (6.8034943563, -63.6213938267)],
                knots=[0.502734258, 0.502734258, 0.502734258, 0.502734258, 0.5138908654, 0.5138908654, 0.5138908654, 0.5138908654], degree=3))
            add(Edge.make_bspline(
                [(6.8034943563, -63.6213938267), (6.5280680143, -63.6475371919), (5.9379839385, -63.3882526345), (6.4554048999, -62.6902141948), (7.2117899369, -62.2897924754), (7.1434679198, -61.1530769035), (6.846203737, -60.1825881714), (6.2393728774, -59.0654306893), (5.0684406421, -58.7061342118), (3.8214801505, -59.5688714364), (3.2056886397, -59.197763329), (3.2290456258, -59.0215449035)],
                knots=[0.5138908654, 0.5138908654, 0.5138908654, 0.5138908654, 0.5607801097, 0.6055748205, 0.6563120185, 0.7123148508, 0.7702503046, 0.8315987566, 0.88978324, 0.9572089224, 1, 1, 1, 1], degree=3))
            add(Edge.make_bspline(
                [(3.2290456258, -59.0215449035), (3.2652110623, -58.7486922227), (4.4941579879, -58.1023956217), (5.3368756313, -58.1125977701), (7.3251793107, -58.2993406645), (8.4104068165, -59.3983313476), (8.7957798543, -60.7302654457), (8.2692511263, -61.9418731309), (7.7956147171, -62.955385676), (7.2563060791, -63.4823227644), (6.9954212547, -63.5772726656)],
                knots=[0, 0, 0, 0, 0.0662567504, 0.1223814964, 0.1989312922, 0.2673014857, 0.3307350857, 0.3938931949, 0.4560540512, 0.502734258, 0.502734258, 0.502734258, 0.502734258], degree=3))
        make_face(mode=Mode.SUBTRACT)
        with BuildLine():
            Line((4.9227873014, -55.1428138726), (6.7492142055, -54.7229452855))
            Line((6.7492142055, -54.7229452855), (7.3112121056, -57.1676342107))
            Line((7.3112121056, -57.1676342107), (6.8034943563, -57.2843510273))
            add(Edge.make_bspline(
                [(5.0955493207, -55.8943280603), (5.3324719755, -55.8568970162), (5.8274475888, -55.7786965841), (6.4784668011, -56.419835278), (6.6928249397, -56.9899899735), (6.8034943563, -57.2843510273)],
                knots=[0, 0, 0, 0, 0.3075313567, 0.6424903607, 1, 1, 1, 1], degree=3))
            Line((5.0955493207, -55.8943280603), (4.9227873014, -55.1428138726))
        make_face(mode=Mode.SUBTRACT)
    extrude(amount=F2_DEPTH)

    # F3
    f3_edges = [f1.edges().sort_by_distance(p)[0] for p in [
        (-34.792789, -50.752028, 1.75),
        (-34.792789, -75.943668, 1.75),
        (12.445681, -75.943668, 1.75),
        (12.445681, -50.752028, 1.75),
    ]]
    chamfer(f3_edges, length=F3_SIZE)


solid = f1.part
